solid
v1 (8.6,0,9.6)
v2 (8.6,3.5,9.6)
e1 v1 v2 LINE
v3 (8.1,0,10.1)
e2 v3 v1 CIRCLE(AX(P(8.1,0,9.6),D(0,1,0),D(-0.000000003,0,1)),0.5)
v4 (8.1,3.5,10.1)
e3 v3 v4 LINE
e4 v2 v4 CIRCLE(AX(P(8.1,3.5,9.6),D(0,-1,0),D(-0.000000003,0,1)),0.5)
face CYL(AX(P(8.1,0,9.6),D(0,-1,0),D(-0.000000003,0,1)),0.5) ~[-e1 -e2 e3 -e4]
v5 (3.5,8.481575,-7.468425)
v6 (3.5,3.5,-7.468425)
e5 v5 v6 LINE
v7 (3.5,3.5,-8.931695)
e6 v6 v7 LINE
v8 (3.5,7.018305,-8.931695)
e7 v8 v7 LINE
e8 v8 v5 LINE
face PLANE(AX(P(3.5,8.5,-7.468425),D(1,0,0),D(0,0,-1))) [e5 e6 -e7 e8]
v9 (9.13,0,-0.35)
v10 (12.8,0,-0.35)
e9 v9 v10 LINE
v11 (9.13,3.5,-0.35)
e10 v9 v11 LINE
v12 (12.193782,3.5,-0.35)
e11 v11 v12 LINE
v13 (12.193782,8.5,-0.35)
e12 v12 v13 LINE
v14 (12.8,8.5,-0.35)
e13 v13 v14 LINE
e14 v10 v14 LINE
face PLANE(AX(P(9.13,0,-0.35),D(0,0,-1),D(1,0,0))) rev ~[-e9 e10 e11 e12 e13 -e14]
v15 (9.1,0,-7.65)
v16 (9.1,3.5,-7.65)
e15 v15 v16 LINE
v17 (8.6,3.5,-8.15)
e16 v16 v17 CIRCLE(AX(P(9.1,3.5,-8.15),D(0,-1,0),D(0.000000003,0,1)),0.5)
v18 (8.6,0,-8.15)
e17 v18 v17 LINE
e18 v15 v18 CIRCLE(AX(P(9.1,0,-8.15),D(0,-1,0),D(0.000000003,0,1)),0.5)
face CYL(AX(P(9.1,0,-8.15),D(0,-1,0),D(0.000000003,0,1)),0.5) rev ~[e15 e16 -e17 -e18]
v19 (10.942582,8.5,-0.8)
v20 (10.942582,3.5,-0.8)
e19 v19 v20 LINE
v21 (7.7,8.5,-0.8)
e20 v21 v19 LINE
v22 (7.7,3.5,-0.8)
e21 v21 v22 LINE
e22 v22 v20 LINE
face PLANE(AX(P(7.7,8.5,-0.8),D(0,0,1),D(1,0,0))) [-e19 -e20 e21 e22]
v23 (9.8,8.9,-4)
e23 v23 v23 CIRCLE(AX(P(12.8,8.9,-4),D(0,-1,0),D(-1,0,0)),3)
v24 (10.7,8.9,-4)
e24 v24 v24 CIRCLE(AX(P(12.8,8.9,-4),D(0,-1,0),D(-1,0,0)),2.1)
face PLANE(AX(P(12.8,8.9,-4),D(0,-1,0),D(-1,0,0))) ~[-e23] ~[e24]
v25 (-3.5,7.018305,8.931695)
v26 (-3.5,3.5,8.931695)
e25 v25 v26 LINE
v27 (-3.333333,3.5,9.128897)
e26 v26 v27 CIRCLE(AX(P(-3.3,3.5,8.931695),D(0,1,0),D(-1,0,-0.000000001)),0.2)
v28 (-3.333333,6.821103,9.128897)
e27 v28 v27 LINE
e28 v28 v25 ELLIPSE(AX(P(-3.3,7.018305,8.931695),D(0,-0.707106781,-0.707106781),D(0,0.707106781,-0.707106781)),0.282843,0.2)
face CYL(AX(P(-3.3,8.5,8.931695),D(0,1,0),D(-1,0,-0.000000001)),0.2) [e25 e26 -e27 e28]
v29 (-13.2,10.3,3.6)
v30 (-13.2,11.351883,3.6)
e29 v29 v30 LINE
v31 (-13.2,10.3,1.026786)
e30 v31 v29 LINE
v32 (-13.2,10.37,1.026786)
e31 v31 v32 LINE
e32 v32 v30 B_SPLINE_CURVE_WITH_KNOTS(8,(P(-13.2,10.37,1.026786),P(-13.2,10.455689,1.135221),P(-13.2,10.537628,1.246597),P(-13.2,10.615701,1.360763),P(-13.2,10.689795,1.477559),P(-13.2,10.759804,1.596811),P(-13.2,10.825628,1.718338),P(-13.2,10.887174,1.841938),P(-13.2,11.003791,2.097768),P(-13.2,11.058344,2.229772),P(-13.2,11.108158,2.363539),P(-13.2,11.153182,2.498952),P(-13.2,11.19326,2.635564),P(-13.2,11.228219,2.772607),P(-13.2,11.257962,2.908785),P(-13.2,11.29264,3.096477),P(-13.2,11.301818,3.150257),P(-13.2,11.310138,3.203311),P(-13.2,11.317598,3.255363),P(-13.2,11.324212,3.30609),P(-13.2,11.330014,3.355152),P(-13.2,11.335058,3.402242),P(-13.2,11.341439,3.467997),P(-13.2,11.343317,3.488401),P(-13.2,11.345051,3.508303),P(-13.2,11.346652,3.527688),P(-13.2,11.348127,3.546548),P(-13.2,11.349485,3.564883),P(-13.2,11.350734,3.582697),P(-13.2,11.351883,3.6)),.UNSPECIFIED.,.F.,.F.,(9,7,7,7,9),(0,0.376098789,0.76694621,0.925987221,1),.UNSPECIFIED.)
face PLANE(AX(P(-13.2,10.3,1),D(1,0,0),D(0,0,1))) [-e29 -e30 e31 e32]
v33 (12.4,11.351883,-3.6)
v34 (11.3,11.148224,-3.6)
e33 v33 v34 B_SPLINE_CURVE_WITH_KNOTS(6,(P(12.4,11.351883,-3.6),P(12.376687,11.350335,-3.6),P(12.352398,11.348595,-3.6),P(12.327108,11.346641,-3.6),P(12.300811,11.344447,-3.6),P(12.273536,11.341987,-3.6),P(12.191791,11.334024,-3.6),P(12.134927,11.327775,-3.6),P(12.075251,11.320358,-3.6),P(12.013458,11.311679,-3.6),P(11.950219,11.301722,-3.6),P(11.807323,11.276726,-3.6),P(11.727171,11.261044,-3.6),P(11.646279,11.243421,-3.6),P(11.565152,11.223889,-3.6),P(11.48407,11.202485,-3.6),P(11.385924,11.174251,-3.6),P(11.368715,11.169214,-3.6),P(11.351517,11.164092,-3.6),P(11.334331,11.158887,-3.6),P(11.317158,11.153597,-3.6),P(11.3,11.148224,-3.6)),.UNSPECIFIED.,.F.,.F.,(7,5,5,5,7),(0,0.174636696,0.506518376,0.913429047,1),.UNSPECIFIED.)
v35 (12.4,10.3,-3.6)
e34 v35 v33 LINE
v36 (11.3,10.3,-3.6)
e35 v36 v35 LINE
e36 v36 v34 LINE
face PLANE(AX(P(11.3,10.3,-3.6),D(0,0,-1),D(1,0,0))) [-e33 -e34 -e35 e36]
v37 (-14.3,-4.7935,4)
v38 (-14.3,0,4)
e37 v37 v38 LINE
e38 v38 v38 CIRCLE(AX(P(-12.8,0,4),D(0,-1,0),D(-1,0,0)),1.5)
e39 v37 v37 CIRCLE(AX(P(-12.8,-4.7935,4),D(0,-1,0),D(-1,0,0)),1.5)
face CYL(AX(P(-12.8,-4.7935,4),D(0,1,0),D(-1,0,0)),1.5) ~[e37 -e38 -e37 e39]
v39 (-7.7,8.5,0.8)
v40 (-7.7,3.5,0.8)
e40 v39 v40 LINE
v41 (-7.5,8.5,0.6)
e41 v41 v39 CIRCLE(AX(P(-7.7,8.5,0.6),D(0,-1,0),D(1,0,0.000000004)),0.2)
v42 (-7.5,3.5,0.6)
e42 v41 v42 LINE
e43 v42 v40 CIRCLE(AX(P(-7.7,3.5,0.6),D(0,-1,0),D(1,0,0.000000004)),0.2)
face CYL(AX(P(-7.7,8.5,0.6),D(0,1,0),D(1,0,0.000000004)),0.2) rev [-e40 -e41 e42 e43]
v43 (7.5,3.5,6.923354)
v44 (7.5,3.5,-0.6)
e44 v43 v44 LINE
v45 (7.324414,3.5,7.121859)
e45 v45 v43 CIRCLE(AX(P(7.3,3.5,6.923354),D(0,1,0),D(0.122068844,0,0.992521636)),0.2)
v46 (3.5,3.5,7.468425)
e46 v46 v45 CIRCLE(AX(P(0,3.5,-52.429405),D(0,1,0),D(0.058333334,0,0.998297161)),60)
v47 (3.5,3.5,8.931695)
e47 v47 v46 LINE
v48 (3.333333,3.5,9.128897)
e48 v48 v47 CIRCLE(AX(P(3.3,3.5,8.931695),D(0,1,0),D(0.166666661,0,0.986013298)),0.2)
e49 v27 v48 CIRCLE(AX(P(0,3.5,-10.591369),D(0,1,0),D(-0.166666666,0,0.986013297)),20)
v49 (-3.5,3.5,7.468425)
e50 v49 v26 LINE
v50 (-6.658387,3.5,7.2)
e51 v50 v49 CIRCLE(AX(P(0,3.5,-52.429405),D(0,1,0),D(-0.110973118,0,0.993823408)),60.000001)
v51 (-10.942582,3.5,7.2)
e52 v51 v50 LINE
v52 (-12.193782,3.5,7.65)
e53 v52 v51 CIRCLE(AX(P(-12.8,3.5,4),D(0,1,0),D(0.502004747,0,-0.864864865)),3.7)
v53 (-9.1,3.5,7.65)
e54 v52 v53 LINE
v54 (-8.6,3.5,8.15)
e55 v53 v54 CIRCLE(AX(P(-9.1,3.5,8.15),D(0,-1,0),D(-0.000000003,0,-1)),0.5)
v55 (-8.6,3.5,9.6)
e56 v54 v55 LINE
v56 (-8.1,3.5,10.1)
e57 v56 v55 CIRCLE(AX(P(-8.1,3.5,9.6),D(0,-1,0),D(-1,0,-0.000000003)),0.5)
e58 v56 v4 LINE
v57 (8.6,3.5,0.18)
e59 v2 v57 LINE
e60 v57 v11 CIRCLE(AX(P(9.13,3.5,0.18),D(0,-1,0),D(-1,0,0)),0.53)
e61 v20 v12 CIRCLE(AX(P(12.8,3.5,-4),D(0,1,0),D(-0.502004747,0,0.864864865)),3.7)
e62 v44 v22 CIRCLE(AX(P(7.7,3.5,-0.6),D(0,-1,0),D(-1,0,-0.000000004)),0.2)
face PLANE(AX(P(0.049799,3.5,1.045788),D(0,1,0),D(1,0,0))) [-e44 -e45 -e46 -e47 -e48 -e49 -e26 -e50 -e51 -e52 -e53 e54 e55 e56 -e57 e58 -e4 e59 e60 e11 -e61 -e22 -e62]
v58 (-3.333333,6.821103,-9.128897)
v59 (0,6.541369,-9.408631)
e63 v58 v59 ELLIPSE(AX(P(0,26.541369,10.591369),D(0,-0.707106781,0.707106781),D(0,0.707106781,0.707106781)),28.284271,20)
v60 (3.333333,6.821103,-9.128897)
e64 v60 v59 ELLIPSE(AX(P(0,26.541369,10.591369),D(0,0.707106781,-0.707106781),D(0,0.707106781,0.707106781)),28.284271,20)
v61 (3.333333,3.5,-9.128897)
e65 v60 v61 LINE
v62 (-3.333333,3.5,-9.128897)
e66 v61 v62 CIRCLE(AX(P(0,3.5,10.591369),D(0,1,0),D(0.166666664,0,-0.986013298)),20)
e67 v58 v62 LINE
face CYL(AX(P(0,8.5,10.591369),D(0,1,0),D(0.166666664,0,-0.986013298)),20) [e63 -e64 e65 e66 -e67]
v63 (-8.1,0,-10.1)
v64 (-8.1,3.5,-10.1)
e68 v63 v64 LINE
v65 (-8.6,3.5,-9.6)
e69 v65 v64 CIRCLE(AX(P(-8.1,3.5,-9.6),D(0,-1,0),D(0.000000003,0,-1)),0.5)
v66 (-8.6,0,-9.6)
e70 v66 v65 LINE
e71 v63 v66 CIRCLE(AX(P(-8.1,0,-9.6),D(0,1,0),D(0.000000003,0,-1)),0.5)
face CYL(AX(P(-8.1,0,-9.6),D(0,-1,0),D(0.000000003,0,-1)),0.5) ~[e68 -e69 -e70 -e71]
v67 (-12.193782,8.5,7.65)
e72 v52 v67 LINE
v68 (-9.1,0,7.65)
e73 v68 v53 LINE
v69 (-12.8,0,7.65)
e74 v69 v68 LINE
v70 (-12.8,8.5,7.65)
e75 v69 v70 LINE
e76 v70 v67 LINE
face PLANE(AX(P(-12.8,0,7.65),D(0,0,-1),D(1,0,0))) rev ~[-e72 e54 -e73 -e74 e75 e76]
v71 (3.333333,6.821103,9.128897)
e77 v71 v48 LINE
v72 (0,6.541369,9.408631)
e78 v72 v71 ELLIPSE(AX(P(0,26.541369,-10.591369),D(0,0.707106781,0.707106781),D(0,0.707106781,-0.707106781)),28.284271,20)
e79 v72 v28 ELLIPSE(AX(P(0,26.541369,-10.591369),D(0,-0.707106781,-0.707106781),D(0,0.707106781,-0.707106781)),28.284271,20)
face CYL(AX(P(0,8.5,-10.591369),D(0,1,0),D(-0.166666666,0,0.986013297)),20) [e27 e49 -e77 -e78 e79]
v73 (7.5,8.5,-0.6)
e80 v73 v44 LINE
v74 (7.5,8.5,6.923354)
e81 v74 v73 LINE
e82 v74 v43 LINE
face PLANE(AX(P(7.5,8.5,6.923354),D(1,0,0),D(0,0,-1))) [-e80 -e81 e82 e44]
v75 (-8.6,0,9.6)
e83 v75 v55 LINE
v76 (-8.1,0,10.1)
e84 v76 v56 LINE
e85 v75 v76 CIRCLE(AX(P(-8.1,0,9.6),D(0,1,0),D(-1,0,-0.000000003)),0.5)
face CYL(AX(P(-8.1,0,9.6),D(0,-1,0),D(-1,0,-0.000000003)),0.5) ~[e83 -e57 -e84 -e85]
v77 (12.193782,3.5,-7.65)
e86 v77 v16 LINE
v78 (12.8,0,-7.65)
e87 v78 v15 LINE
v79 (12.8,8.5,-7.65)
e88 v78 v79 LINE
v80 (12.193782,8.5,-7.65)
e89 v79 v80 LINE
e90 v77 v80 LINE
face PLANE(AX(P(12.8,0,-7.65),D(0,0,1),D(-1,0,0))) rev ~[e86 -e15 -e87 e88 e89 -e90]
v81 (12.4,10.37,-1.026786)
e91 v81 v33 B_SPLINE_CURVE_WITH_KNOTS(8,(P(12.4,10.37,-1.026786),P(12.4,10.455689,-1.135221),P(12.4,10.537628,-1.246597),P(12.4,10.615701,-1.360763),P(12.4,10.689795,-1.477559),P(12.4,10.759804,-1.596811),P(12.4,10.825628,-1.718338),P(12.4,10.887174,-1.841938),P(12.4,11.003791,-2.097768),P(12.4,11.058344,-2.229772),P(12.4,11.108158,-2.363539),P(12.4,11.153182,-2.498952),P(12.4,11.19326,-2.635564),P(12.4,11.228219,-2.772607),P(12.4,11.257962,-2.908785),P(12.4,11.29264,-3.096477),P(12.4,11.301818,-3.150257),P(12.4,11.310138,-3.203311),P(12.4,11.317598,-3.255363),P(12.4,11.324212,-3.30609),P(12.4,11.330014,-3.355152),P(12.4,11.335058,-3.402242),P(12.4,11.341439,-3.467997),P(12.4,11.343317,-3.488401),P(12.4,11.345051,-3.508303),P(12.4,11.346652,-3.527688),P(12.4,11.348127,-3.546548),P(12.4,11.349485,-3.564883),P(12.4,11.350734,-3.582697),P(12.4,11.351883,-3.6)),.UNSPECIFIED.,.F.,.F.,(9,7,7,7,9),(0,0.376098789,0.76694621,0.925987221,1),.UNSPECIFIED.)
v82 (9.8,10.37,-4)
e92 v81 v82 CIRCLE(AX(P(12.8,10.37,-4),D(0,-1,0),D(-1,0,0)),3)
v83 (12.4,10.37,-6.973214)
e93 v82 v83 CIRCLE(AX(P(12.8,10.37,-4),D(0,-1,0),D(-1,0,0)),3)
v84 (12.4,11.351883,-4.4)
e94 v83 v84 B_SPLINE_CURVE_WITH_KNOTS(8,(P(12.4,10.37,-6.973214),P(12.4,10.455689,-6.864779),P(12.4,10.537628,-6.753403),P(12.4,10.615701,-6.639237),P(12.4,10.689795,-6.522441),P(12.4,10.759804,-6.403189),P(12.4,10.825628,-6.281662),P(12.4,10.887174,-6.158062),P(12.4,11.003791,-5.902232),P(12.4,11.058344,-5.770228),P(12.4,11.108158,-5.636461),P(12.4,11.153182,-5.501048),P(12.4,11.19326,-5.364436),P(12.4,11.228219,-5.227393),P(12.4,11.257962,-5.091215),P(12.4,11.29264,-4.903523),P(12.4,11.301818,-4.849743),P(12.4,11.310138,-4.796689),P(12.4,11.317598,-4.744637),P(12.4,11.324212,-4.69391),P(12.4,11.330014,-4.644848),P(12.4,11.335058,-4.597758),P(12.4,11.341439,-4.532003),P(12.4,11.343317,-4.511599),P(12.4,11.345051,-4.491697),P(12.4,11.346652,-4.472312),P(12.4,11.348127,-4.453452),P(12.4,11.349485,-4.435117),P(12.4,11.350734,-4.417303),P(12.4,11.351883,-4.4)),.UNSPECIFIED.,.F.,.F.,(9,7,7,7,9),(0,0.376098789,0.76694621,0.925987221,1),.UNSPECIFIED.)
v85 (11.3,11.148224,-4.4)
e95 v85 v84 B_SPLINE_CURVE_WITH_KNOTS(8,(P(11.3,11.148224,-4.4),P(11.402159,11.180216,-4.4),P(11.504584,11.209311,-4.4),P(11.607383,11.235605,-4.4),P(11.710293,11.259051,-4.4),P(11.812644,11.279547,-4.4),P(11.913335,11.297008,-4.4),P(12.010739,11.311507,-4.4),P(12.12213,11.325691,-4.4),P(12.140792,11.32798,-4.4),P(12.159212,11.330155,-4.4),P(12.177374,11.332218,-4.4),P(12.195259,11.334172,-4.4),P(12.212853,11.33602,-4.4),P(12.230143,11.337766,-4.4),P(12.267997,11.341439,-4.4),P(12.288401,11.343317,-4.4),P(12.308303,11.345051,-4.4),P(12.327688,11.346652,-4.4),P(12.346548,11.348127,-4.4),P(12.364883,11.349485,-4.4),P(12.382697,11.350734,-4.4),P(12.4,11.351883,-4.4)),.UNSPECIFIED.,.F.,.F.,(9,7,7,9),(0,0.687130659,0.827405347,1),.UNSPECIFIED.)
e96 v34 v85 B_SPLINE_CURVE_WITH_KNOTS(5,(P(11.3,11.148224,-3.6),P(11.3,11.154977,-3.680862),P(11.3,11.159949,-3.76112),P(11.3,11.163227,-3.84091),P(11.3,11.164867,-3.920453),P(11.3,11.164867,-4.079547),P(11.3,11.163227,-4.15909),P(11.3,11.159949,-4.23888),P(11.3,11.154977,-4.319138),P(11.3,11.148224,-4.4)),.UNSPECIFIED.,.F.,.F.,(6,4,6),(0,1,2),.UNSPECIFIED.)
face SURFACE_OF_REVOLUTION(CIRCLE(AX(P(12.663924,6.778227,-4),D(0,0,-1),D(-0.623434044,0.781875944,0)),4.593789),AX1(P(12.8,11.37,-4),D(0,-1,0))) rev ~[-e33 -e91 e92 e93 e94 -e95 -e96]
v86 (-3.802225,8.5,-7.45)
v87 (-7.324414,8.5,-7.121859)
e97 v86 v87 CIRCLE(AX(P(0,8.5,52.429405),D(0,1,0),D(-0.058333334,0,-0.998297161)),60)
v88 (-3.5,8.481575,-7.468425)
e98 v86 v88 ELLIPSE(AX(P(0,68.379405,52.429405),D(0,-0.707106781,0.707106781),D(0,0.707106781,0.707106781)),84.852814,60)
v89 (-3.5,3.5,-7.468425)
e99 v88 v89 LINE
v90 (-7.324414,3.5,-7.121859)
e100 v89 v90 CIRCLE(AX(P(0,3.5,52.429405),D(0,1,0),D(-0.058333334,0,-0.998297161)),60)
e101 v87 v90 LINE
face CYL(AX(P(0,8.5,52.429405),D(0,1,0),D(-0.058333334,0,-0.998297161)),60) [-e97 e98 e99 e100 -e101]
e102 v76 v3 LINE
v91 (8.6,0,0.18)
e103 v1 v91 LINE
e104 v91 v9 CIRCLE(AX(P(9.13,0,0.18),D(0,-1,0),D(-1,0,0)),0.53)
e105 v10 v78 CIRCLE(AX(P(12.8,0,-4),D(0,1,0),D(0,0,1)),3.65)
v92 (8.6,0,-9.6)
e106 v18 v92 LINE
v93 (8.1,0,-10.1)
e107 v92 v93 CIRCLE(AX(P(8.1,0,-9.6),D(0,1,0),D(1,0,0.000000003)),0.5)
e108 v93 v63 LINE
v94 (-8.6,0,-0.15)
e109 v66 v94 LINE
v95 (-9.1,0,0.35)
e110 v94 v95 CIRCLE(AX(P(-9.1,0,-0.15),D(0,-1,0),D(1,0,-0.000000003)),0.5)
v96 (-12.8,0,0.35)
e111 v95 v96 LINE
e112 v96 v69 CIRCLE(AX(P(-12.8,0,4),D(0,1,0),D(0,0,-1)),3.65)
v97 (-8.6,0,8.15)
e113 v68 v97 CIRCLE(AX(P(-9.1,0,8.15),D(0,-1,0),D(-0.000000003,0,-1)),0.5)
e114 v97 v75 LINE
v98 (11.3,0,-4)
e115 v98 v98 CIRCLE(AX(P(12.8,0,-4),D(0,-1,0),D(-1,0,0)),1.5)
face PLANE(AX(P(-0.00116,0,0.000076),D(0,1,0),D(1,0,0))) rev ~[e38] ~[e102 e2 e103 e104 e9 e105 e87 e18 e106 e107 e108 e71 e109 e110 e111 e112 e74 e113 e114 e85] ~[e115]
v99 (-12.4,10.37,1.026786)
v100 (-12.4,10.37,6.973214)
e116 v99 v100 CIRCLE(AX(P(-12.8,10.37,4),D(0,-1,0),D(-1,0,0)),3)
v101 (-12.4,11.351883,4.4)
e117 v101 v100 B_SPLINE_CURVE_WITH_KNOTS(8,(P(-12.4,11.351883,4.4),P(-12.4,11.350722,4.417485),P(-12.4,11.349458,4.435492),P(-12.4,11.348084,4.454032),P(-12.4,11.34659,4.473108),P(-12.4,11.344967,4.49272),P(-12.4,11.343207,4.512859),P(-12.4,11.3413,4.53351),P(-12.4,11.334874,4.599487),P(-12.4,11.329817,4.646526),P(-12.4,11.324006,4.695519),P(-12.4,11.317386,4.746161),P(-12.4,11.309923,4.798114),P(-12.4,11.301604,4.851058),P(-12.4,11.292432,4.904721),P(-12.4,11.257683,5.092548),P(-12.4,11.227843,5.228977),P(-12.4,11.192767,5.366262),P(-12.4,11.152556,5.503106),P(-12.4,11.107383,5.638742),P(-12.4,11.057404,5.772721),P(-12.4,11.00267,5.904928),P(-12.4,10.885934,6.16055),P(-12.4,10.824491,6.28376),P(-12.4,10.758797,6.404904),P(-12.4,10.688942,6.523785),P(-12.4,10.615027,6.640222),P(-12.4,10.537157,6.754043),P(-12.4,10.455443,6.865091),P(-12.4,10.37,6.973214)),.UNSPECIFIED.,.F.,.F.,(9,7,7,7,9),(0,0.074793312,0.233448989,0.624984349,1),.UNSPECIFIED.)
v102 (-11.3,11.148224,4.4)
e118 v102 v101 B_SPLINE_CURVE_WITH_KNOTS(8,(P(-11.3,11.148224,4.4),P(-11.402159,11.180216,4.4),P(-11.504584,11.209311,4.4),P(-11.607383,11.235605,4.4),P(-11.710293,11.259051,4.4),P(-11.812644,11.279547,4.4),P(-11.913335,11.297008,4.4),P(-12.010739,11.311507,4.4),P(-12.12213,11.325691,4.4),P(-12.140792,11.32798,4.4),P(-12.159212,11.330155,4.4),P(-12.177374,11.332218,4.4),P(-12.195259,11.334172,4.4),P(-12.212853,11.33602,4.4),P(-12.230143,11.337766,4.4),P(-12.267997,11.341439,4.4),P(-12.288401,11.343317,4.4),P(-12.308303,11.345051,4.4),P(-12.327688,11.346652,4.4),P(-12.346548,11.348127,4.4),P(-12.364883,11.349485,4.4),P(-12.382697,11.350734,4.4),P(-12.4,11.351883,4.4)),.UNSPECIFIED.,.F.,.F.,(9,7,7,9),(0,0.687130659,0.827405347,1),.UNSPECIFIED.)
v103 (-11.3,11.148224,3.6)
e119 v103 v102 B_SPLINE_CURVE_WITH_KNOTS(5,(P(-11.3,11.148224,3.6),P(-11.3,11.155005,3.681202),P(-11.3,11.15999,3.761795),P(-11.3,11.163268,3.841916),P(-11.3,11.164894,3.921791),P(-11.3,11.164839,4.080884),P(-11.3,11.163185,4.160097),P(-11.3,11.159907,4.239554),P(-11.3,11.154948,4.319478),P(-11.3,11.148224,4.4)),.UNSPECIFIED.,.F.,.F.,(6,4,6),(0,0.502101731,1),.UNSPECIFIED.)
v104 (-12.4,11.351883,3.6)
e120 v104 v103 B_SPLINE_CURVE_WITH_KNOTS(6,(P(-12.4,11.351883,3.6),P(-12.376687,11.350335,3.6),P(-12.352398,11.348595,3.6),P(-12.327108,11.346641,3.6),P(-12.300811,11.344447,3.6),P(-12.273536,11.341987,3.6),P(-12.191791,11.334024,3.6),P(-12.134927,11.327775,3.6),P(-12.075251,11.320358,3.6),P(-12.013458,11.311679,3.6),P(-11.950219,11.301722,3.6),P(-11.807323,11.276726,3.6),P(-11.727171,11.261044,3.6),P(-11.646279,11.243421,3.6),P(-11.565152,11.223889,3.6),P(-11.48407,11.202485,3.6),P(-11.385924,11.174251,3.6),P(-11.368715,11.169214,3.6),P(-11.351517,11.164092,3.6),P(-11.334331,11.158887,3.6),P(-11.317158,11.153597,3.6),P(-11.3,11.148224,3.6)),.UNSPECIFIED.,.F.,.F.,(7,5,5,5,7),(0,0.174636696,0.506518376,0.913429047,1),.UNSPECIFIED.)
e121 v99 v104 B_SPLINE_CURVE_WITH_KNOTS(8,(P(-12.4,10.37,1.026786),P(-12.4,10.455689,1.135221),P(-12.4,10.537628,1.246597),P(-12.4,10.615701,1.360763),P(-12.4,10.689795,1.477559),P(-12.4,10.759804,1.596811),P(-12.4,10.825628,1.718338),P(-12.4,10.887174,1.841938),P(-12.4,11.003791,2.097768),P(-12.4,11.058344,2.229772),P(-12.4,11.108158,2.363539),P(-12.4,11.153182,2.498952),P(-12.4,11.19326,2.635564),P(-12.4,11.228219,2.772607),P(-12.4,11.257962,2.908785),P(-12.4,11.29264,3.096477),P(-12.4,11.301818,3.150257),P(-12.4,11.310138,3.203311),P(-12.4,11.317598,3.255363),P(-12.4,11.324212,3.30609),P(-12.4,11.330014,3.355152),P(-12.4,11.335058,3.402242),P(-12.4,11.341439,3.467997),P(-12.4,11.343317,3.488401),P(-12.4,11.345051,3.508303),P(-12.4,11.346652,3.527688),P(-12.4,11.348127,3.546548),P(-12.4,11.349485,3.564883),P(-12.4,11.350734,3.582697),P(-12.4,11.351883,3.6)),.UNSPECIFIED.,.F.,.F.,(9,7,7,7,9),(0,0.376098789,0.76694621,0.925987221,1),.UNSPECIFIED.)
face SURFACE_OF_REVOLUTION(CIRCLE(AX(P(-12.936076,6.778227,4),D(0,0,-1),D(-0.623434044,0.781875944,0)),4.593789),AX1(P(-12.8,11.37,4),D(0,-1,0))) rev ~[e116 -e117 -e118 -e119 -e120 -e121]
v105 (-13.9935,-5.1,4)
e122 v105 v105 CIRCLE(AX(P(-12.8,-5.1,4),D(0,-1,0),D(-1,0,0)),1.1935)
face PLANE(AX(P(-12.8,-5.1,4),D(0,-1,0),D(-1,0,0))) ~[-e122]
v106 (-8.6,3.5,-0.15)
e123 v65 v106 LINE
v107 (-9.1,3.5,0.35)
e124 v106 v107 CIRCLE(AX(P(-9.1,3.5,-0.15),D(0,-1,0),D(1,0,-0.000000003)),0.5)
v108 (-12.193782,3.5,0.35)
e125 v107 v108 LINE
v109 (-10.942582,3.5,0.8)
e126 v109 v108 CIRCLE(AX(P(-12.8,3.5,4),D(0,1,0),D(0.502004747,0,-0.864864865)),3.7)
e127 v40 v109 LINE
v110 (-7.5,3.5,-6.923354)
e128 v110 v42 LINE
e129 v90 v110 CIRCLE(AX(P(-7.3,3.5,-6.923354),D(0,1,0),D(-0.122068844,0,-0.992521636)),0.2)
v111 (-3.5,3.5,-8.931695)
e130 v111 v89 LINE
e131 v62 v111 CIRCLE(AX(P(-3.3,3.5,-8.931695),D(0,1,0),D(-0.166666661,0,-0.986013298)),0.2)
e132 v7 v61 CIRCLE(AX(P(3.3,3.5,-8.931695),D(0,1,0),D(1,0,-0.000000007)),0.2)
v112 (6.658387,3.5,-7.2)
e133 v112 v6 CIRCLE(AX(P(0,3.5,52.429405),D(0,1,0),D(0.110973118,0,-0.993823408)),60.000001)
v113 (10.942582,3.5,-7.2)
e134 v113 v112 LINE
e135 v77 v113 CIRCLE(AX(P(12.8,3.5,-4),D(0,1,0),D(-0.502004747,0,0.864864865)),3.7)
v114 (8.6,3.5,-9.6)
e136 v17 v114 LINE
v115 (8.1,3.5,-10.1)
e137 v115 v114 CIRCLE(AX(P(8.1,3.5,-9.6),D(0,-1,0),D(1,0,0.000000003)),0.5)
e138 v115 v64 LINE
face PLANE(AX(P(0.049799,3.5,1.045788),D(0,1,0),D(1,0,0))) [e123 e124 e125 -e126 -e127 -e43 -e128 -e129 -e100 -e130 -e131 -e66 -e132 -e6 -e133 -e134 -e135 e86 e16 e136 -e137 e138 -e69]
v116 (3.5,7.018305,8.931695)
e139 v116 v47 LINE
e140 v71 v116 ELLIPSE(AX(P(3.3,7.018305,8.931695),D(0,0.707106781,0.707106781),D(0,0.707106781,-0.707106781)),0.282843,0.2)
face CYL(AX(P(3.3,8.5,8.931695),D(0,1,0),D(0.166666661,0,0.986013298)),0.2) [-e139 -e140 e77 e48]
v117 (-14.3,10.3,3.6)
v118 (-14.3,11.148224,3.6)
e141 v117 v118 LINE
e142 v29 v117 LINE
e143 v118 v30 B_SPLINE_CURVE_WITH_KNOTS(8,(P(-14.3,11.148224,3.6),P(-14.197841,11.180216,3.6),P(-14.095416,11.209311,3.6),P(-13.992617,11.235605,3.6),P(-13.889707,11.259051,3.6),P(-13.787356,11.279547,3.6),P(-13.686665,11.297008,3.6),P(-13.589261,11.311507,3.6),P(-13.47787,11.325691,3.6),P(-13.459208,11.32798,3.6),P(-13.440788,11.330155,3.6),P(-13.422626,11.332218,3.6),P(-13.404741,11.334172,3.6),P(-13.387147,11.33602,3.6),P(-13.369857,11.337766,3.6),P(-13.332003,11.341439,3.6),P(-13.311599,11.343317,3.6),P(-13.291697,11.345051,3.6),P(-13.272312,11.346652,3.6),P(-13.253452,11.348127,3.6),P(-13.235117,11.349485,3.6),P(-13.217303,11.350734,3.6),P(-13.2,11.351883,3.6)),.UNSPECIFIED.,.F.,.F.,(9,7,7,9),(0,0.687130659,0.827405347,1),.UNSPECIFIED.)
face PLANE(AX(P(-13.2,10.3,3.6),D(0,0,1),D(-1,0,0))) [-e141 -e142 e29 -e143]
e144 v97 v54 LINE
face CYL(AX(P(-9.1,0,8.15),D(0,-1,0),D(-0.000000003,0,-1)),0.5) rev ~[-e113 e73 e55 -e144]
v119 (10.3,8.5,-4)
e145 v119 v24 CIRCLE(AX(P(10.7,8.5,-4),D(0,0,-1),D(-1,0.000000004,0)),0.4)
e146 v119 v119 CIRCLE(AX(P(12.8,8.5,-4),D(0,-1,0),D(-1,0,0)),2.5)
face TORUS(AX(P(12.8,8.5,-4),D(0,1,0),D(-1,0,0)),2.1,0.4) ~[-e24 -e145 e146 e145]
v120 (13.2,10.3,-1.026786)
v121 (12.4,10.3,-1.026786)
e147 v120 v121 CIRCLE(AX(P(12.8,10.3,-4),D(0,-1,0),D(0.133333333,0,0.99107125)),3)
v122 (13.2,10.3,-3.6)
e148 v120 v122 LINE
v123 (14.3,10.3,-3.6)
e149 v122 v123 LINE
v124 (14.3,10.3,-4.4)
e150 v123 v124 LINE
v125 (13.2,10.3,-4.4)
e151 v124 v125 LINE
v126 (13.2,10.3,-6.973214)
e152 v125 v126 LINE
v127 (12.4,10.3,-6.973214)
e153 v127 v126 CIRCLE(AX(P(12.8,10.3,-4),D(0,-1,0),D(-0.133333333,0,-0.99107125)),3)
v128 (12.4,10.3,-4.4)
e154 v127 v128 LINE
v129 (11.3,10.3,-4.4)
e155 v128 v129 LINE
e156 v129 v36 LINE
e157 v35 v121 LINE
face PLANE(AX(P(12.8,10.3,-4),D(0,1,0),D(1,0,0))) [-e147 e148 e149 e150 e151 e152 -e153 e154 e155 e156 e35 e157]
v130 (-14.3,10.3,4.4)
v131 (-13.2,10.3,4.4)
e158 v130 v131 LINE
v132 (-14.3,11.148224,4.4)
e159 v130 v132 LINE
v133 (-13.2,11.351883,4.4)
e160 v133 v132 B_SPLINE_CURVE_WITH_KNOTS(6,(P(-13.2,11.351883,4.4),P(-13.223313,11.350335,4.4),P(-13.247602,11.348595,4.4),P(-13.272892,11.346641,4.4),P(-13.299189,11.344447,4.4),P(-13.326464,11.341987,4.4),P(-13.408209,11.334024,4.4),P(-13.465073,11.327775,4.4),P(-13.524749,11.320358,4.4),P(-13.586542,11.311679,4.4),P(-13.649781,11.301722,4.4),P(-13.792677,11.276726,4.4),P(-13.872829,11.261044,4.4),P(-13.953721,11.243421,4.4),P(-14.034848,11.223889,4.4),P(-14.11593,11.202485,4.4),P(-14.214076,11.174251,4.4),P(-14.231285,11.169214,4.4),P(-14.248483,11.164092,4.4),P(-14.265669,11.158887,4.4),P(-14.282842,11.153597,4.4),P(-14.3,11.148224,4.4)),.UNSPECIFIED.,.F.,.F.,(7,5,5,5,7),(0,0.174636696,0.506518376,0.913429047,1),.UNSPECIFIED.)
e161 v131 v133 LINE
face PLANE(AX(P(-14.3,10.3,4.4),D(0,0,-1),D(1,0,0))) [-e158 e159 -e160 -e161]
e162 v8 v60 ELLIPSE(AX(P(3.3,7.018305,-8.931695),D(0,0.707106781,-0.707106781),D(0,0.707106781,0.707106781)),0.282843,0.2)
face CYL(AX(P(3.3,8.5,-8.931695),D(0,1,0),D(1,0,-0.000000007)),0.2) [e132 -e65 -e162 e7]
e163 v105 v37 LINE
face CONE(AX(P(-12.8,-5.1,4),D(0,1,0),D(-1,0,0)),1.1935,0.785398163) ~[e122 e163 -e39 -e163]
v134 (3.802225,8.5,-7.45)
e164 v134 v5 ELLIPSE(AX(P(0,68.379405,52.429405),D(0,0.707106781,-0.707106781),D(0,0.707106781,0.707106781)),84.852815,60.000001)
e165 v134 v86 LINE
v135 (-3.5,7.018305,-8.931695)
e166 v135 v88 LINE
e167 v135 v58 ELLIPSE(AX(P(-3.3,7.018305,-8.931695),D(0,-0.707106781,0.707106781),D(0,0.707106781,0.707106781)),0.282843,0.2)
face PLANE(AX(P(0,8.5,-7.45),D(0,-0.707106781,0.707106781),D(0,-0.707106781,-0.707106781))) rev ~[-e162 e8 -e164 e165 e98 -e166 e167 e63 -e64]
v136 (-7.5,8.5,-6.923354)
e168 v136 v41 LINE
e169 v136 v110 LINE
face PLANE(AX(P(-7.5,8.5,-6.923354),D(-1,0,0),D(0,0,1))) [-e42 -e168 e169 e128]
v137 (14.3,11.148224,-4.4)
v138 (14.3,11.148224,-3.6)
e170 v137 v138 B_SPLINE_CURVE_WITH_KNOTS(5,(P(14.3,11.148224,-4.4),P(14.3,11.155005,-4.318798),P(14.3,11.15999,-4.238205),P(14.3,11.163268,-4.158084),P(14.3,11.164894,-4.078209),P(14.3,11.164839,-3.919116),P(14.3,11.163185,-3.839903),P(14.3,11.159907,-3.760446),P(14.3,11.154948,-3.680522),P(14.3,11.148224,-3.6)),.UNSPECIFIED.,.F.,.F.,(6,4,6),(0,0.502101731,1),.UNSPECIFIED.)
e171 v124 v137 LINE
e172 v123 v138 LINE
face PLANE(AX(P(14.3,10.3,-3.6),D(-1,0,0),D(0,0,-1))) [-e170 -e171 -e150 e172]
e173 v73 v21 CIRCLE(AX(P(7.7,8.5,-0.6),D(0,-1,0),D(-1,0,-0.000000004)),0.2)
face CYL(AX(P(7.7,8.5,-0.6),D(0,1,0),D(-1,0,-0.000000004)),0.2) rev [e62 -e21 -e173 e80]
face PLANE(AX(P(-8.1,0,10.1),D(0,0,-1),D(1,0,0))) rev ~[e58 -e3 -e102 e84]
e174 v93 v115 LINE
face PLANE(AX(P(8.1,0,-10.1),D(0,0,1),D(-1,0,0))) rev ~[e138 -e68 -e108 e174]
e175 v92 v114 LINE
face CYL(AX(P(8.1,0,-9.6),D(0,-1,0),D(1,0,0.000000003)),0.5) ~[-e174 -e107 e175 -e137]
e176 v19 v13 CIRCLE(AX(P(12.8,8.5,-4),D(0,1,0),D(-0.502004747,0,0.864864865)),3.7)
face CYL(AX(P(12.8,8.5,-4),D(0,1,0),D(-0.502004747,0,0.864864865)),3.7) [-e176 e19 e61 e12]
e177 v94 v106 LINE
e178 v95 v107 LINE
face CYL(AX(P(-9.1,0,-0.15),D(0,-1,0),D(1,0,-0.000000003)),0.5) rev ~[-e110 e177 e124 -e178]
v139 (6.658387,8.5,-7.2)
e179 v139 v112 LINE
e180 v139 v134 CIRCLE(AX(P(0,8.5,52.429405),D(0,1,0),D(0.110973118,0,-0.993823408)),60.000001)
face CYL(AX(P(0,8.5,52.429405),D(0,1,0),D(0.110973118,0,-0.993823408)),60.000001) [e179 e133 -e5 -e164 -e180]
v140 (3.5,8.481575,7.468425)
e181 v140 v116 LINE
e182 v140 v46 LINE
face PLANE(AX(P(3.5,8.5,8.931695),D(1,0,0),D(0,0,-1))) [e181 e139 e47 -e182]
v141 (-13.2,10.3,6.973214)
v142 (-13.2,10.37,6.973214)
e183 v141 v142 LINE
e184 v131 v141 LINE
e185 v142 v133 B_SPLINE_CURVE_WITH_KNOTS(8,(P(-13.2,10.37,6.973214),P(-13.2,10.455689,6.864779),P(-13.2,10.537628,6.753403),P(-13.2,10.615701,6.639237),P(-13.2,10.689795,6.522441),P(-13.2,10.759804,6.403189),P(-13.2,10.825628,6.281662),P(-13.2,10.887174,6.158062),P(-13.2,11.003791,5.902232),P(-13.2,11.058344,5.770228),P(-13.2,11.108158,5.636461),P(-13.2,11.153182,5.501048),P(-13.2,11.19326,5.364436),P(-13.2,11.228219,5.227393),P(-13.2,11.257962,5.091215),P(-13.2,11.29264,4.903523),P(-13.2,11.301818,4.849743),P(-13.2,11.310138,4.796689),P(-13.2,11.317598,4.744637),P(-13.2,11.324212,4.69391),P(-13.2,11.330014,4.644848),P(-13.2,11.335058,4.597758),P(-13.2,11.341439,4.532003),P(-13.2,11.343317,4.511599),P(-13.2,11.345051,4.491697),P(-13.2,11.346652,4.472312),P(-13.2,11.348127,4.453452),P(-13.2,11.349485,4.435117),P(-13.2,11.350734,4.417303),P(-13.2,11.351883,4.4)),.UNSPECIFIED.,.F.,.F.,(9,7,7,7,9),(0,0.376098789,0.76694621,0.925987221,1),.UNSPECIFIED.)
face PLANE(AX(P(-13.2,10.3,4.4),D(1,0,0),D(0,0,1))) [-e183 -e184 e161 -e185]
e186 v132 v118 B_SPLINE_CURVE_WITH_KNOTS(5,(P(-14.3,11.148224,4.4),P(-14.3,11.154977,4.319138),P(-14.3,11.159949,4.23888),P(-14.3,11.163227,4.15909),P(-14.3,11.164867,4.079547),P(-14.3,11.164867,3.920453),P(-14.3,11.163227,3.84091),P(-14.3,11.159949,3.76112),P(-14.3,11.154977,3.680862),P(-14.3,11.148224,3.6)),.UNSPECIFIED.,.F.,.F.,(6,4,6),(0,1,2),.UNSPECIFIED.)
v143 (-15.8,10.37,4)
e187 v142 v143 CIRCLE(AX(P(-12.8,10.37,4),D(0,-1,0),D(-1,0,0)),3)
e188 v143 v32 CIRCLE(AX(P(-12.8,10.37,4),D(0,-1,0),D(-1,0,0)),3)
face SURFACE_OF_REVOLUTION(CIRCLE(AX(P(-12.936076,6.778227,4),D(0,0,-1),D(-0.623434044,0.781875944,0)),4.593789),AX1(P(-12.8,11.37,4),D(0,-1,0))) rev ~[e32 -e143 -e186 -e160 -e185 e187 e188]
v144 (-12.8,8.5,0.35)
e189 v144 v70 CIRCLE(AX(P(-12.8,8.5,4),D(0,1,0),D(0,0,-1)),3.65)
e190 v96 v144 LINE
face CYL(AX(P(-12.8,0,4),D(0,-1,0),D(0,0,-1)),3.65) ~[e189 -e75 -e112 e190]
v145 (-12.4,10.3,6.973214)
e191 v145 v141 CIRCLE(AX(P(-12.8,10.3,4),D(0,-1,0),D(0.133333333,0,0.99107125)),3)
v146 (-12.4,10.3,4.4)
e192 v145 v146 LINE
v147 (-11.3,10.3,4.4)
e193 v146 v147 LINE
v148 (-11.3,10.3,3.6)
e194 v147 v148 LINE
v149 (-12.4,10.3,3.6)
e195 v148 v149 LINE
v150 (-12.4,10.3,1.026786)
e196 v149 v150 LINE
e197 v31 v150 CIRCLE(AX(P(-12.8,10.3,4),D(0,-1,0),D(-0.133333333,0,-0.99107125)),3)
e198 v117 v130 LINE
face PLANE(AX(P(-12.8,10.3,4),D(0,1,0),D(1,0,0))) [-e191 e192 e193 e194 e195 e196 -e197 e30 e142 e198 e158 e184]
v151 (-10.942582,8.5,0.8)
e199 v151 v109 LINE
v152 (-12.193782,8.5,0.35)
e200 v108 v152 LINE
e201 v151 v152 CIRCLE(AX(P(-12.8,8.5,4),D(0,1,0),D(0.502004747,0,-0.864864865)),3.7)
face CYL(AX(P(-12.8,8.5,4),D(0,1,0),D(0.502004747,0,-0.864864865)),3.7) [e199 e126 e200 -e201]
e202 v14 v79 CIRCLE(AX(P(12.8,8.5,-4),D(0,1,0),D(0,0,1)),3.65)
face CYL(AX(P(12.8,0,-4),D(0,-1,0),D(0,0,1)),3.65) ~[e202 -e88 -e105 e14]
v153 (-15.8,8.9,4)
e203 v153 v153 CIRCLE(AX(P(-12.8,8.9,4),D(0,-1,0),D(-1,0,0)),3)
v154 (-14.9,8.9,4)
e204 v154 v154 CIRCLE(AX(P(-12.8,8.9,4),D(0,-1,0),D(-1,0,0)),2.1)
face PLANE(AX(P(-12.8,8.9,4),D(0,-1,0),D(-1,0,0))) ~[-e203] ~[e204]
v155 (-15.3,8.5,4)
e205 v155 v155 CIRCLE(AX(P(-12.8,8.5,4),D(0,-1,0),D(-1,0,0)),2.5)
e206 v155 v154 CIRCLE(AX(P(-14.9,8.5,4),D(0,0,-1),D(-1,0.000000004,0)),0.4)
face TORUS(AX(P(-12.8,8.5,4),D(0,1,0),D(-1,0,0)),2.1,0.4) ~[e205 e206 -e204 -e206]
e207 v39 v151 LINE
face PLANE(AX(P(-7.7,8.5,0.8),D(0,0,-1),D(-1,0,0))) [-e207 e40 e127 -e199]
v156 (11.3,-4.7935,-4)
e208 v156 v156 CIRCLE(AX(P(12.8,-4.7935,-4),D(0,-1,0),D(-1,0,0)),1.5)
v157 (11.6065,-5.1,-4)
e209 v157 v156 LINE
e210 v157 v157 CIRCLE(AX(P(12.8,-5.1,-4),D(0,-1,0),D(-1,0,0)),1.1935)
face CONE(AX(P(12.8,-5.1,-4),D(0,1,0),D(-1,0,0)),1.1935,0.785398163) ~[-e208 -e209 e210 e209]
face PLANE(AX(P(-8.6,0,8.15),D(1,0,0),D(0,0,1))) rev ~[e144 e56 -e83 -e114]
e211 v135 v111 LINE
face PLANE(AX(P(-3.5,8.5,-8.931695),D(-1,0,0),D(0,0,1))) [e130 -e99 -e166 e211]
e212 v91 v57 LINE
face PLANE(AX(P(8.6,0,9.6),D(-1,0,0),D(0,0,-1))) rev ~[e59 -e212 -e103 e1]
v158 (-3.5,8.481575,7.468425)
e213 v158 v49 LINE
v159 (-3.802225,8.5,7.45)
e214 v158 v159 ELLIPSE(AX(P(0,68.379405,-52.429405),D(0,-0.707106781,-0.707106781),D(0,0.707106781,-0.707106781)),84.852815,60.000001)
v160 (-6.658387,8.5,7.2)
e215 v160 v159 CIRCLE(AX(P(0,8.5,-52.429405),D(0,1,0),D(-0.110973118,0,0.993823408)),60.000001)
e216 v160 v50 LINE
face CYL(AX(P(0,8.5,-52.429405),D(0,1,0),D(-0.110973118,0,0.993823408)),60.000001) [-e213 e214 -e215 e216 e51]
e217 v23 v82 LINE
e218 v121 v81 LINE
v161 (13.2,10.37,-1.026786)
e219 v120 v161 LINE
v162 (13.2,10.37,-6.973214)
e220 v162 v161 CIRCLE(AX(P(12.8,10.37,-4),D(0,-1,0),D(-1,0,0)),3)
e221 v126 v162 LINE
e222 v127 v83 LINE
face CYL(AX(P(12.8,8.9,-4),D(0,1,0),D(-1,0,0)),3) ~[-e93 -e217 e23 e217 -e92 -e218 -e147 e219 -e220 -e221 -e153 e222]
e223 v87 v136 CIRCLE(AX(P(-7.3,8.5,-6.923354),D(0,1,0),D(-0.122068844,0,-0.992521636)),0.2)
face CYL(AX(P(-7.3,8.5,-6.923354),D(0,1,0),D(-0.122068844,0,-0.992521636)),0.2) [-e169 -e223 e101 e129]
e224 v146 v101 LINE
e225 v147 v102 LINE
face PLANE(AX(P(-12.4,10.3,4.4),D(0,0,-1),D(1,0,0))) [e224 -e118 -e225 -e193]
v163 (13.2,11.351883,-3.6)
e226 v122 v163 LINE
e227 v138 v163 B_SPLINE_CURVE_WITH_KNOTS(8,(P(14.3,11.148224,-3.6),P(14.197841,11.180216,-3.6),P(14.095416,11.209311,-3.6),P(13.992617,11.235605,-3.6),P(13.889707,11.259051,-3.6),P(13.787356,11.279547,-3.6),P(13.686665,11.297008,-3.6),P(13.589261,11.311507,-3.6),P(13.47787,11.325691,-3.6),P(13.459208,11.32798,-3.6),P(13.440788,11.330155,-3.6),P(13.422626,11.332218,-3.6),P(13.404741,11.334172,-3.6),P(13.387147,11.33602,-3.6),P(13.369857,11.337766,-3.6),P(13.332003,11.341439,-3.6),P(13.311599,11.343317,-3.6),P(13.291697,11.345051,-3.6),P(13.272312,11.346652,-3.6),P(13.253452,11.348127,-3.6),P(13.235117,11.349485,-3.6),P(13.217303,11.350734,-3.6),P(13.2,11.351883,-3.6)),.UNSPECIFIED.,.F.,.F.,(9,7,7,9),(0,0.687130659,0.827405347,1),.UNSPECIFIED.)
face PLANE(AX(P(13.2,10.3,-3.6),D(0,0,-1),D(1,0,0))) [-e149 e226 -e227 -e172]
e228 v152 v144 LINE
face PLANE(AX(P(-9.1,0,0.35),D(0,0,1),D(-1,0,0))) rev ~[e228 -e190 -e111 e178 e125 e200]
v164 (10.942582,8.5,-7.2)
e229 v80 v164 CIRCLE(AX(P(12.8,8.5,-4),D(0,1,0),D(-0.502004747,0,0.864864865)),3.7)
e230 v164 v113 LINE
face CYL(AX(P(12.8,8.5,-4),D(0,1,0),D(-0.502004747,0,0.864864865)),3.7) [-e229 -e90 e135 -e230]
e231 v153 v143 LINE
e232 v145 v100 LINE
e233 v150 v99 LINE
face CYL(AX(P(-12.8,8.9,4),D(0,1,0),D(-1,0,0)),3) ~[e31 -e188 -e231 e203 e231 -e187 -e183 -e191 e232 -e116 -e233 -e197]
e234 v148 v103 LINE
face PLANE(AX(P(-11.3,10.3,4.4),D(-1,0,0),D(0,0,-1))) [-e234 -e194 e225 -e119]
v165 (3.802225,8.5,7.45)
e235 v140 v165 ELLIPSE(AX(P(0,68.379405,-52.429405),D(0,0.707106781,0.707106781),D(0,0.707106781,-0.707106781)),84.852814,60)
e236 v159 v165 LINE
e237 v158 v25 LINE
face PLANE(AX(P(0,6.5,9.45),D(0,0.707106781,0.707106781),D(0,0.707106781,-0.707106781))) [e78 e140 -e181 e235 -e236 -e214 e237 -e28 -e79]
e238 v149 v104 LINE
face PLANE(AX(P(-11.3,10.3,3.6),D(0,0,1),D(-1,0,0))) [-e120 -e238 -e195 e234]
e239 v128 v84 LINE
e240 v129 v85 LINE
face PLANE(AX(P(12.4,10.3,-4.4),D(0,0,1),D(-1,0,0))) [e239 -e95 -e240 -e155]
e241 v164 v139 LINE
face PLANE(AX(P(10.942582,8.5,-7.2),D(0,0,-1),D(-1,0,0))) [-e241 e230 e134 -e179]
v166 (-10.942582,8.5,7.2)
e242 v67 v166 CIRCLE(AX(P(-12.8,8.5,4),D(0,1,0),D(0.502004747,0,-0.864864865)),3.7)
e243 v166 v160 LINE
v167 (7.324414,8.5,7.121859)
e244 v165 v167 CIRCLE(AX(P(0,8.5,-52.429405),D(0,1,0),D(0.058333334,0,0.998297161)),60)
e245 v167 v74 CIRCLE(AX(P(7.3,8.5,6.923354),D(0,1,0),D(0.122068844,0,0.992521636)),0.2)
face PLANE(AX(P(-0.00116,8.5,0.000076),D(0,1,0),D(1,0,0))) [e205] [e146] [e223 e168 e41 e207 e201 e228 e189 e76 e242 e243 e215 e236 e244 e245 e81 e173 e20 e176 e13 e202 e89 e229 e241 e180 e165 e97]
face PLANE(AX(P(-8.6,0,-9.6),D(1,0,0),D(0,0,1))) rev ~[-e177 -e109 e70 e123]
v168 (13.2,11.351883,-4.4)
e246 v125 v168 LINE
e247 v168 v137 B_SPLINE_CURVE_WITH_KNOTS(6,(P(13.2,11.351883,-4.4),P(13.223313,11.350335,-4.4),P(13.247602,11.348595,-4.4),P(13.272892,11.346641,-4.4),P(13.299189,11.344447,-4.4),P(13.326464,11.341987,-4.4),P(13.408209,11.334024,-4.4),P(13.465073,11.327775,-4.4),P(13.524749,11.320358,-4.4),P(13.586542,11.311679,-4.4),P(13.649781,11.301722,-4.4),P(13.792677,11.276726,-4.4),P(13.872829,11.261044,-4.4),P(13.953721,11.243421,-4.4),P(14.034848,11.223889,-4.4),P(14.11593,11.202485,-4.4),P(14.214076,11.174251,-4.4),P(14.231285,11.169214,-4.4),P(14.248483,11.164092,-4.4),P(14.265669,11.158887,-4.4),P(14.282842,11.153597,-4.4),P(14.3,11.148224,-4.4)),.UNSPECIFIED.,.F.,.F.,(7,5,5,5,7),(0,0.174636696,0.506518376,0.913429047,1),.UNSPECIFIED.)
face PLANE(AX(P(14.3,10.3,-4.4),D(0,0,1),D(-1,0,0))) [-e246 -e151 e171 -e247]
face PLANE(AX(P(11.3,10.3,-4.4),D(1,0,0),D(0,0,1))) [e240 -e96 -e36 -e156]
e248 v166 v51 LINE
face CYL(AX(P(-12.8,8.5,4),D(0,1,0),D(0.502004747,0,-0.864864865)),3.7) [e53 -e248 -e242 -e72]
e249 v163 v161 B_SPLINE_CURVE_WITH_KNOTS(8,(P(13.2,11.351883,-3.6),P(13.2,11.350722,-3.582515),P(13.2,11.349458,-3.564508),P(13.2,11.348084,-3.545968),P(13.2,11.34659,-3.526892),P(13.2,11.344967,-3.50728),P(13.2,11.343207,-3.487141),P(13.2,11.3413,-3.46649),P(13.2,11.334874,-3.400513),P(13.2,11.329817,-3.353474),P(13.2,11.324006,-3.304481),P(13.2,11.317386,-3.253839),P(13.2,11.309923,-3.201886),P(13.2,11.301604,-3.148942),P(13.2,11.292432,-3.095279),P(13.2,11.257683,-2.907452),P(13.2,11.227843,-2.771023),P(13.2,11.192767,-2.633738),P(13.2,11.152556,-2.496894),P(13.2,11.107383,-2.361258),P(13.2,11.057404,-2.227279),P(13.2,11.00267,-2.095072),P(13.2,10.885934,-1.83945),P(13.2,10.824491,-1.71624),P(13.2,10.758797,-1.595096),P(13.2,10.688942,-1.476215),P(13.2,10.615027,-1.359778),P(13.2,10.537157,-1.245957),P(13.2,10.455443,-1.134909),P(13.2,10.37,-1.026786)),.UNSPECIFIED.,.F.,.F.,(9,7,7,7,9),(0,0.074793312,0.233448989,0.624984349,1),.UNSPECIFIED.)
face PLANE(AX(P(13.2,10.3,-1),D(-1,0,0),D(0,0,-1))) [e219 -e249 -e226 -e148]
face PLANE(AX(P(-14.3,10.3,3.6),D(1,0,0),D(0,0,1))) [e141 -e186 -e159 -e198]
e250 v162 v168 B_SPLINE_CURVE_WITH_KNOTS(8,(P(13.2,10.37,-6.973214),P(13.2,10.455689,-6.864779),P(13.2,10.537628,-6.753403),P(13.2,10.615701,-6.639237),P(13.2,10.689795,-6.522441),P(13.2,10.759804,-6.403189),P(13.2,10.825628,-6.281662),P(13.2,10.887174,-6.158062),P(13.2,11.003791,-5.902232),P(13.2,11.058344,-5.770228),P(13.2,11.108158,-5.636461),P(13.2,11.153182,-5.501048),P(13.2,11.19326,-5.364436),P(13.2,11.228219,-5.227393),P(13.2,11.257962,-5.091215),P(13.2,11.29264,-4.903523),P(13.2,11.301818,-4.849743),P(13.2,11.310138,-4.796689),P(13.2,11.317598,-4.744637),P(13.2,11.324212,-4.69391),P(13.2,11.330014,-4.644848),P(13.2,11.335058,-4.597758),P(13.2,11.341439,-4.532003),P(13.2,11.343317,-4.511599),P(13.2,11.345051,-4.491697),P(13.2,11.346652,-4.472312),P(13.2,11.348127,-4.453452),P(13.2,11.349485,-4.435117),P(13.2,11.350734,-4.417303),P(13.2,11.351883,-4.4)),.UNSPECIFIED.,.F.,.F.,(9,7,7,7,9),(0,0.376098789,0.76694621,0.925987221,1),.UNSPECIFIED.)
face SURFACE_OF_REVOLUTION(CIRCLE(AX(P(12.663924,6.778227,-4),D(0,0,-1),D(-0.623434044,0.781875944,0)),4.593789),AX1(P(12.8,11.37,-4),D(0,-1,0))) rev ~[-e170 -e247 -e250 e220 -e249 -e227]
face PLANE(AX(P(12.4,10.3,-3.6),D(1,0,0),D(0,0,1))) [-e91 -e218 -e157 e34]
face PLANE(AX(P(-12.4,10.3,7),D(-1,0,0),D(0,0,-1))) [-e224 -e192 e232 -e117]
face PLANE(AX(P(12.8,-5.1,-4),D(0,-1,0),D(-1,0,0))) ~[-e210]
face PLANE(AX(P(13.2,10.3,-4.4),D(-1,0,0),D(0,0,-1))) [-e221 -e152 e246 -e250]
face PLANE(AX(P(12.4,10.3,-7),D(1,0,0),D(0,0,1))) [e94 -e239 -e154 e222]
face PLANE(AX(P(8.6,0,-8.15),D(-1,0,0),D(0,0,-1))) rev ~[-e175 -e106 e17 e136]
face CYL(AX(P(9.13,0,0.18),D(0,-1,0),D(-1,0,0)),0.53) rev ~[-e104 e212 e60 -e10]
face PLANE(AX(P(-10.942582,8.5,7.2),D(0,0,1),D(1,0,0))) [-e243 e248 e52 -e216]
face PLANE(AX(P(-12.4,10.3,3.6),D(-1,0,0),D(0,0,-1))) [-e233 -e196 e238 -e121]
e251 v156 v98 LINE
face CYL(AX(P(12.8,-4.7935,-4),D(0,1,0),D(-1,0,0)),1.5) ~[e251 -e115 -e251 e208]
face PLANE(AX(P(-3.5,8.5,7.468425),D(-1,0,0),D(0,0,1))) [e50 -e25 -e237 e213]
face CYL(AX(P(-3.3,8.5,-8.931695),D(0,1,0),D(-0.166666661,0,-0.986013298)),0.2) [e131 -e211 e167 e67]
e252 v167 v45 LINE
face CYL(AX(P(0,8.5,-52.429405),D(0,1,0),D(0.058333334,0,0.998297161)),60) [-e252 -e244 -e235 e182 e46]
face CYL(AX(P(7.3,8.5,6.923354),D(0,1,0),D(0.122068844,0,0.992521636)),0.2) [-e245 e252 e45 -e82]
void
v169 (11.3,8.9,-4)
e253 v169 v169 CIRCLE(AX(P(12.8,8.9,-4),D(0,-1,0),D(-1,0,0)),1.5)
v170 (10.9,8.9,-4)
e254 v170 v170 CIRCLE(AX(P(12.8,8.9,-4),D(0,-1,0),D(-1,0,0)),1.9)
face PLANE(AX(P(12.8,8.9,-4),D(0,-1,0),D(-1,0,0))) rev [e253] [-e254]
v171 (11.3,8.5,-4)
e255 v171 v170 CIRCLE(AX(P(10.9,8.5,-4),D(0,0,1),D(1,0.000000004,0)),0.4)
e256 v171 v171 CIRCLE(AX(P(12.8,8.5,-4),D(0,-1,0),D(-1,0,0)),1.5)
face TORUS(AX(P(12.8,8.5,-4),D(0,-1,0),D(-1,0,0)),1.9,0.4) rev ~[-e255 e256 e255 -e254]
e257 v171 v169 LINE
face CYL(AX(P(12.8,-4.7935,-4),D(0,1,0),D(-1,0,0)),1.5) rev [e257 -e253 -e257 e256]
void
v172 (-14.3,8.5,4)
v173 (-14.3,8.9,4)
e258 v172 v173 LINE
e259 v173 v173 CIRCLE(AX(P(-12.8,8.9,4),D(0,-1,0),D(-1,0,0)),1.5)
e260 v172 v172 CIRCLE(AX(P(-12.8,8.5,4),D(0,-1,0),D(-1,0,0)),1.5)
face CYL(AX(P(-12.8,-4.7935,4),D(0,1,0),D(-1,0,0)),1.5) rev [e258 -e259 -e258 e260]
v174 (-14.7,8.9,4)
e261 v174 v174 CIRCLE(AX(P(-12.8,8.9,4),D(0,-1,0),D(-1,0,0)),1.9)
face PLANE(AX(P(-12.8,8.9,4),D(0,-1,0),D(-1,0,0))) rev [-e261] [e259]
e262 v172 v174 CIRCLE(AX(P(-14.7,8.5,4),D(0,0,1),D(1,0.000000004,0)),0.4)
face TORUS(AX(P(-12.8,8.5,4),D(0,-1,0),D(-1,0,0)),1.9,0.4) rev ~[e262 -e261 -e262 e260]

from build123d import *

# Parameters (mm, degrees)
BOSS_EXTRUDE1_DEPTH     = 8.5
SKETCH2_W               = 40.53674955
SKETCH2_H               = 32.519038644
CUT_EXTRUDE1_DEPTH      = 5
CUT_EXTRUDE2_DEPTH      = 5
CUT_EXTRUDE2_DEPTH_BACK = 5
CUT_EXTRUDE3_DEPTH      = 5
CUT_EXTRUDE3_DEPTH_BACK = 5
CUT_EXTRUDE4_DEPTH      = 5
CUT_EXTRUDE5_DEPTH      = 5


with BuildPart() as part:
    # Sketch1 → Boss-Extrude1 (new body)
    with BuildSketch(Plane(origin=(0, 0, 0), x_dir=(1, 0, 0), z_dir=(0, 1, 0))):
        with BuildLine():
            Line((-12.8, -7.65), (-9.1, -7.65))
            ThreePointArc((-9.1, -7.65), (-8.746446609, -7.796446609), (-8.6, -8.15))
            Line((-8.6, -8.15), (-8.6, -9.6))
            ThreePointArc((-8.6, -9.6), (-8.453553391, -9.953553391), (-8.1, -10.1))
            Line((-8.1, -10.1), (8.1, -10.1))
            ThreePointArc((8.1, -10.1), (8.453553391, -9.953553391), (8.6, -9.6))
            Line((8.6, -9.6), (8.6, -0.18))
            ThreePointArc((8.6, -0.18), (8.755233406, 0.194766594), (9.13, 0.35))
            Line((9.13, 0.35), (12.8, 0.35))
            ThreePointArc((12.8, 0.35), (16.45, 4), (12.8, 7.65))
            Line((12.8, 7.65), (9.1, 7.65))
            ThreePointArc((9.1, 7.65), (8.746446609, 7.796446609), (8.6, 8.15))
            Line((8.6, 8.15), (8.6, 9.6))
            ThreePointArc((8.6, 9.6), (8.453553391, 9.953553391), (8.1, 10.1))
            Line((8.1, 10.1), (-8.1, 10.1))
            ThreePointArc((-8.1, 10.1), (-8.453553391, 9.953553391), (-8.6, 9.6))
            Line((-8.6, 9.6), (-8.6, 0.15))
            ThreePointArc((-8.6, 0.15), (-8.746446609, -0.203553391), (-9.1, -0.35))
            Line((-9.1, -0.35), (-12.8, -0.35))
            ThreePointArc((-12.8, -0.35), (-16.45, -4), (-12.8, -7.65))
        make_face()
    extrude(amount=BOSS_EXTRUDE1_DEPTH)

    # Sketch2 → Cut-Extrude1 (cut)
    with BuildSketch(Plane(origin=(0, 8.5, 0), x_dir=(1, 0, 0), z_dir=(0, 1, 0))):
        with Locations((0.049799447, -1.045788379)):
            Rectangle(SKETCH2_W, SKETCH2_H)
        with BuildLine():
            Line((-10.942582438, -7.2), (-6.658387125, -7.2))
            ThreePointArc((-6.658387125, -7.2), (-5.080966469, -7.35507325), (-3.5, -7.468425178))
            Line((-3.5, -7.468425178), (-3.5, -8.931694617))
            ThreePointArc((-3.5, -8.931694617), (-3.452752523, -9.060794062), (-3.333333333, -9.128897276))
            ThreePointArc((-3.333333333, -9.128897276), (0, -9.408631332), (3.333333333, -9.128897276))
            ThreePointArc((3.333333333, -9.128897276), (3.452752523, -9.060794062), (3.5, -8.931694617))
            Line((3.5, -8.931694617), (3.5, -7.468425178))
            ThreePointArc((3.5, -7.468425178), (5.414980187, -7.325745819), (7.324413769, -7.12185882))
            ThreePointArc((7.324413769, -7.12185882), (7.449804462, -7.055863448), (7.5, -6.923354493))
            Line((7.5, -6.923354493), (7.5, 0.6))
            ThreePointArc((7.5, 0.6), (7.558578644, 0.741421356), (7.7, 0.8))
            Line((7.7, 0.8), (10.942582438, 0.8))
            ThreePointArc((10.942582438, 0.8), (16.5, 4), (10.942582438, 7.2))
            Line((10.942582438, 7.2), (6.658387125, 7.2))
            ThreePointArc((6.658387125, 7.2), (5.080966469, 7.35507325), (3.5, 7.468425178))
            Line((3.5, 7.468425178), (3.5, 8.931694617))
            ThreePointArc((3.5, 8.931694617), (3.452752508, 9.060794079), (3.333333288, 9.128897284))
            ThreePointArc((3.333333288, 9.128897284), (-2.3e-08, 9.408631332), (-3.333333333, 9.128897276))
            ThreePointArc((-3.333333333, 9.128897276), (-3.452752523, 9.060794062), (-3.5, 8.931694617))
            Line((-3.5, 8.931694617), (-3.5, 7.468425178))
            ThreePointArc((-3.5, 7.468425178), (-5.414980187, 7.325745819), (-7.324413769, 7.12185882))
            ThreePointArc((-7.324413769, 7.12185882), (-7.449804462, 7.055863448), (-7.5, 6.923354493))
            Line((-7.5, 6.923354493), (-7.5, -0.6))
            ThreePointArc((-7.5, -0.6), (-7.558578644, -0.741421356), (-7.7, -0.8))
            Line((-7.7, -0.8), (-10.942582438, -0.8))
            ThreePointArc((-10.942582438, -0.8), (-16.5, -4), (-10.942582438, -7.2))
        make_face(mode=Mode.SUBTRACT)
    extrude(amount=-CUT_EXTRUDE1_DEPTH, mode=Mode.SUBTRACT)

    # Sketch3 → Cut-Extrude2 (cut, two sides)
    with BuildSketch(Plane(origin=(0, 0, 0), x_dir=(0, 0, -1), z_dir=(1, 0, 0))) as cut_extrude2_sk:
        Polygon((7.45, 8.5), (9.45, 6.5), (9.45, 8.5), align=None)
    extrude(amount=CUT_EXTRUDE2_DEPTH, mode=Mode.SUBTRACT)
    extrude(cut_extrude2_sk.sketch, amount=-CUT_EXTRUDE2_DEPTH_BACK, mode=Mode.SUBTRACT)

    # Sketch4 → Cut-Extrude3 (cut, two sides)
    with BuildSketch(Plane(origin=(0, 0, 0), x_dir=(0, 0, -1), z_dir=(1, 0, 0))) as cut_extrude3_sk:
        Polygon((-9.45, 6.5), (-7.45, 8.5), (-9.45, 8.5), align=None)
    extrude(amount=CUT_EXTRUDE3_DEPTH, mode=Mode.SUBTRACT)
    extrude(cut_extrude3_sk.sketch, amount=-CUT_EXTRUDE3_DEPTH_BACK, mode=Mode.SUBTRACT)

    # Sketch5 → Revolve1 (revolve)
    with BuildSketch(Plane.XY.offset(4)):
        with BuildLine():
            Line((-12.8, 8.5), (-15.3, 8.5))
            ThreePointArc((-15.3, 8.5), (-15.182842712, 8.782842712), (-14.9, 8.9))
            Line((-14.9, 8.9), (-12.8, 8.9))
            Line((-12.8, 8.9), (-12.8, 8.5))
        make_face()
    revolve(axis=Axis((-12.8, 8.9, 4), (0, -1, 0)))

    # Sketch6 → Revolve2 (revolve)
    with BuildSketch(Plane.XY.offset(-4)):
        with BuildLine():
            Line((12.8, 8.5), (10.3, 8.5))
            ThreePointArc((10.3, 8.5), (10.417157288, 8.782842712), (10.7, 8.9))
            Line((10.7, 8.9), (12.8, 8.9))
            Line((12.8, 8.9), (12.8, 8.5))
        make_face()
    revolve(axis=Axis((12.8, 8.9, -4), (0, -1, 0)))

    # Sketch7 → Cut-Revolve1 (revolve, cut)
    with BuildSketch(Plane.XY.offset(4)):
        with BuildLine():
            Line((-12.8, 0), (-14.3, 0))
            Line((-14.3, 0), (-14.3, 4.125))
            Line((-14.3, 4.125), (-14.175, 4.25))
            Line((-14.175, 4.25), (-14.3, 4.375))
            Line((-14.3, 4.375), (-14.3, 8.5))
            ThreePointArc((-14.3, 8.5), (-14.417157288, 8.782842712), (-14.7, 8.9))
            Line((-14.7, 8.9), (-12.8, 8.9))
            Line((-12.8, 8.9), (-12.8, 0))
        make_face()
    revolve(axis=Axis((-12.8, 8.9, 4), (0, -1, 0)), mode=Mode.SUBTRACT)

    # Sketch8 → Cut-Revolve2 (revolve, cut)
    with BuildSketch(Plane.XY.offset(-4)):
        with BuildLine():
            Line((12.8, 0), (11.3, 0))
            Line((11.3, 0), (11.3, 4.125))
            Line((11.3, 4.125), (11.425, 4.25))
            Line((11.425, 4.25), (11.3, 4.375))
            Line((11.3, 4.375), (11.3, 8.5))
            ThreePointArc((11.3, 8.5), (11.182842712, 8.782842712), (10.9, 8.9))
            Line((10.9, 8.9), (12.8, 8.9))
            Line((12.8, 8.9), (12.8, 0))
        make_face()
    revolve(axis=Axis((12.8, 8.9, -4), (0, -1, 0)), mode=Mode.SUBTRACT)

    # Sketch9 → Revolve3 (revolve)
    with BuildSketch(Plane.XY.offset(4)):
        with BuildLine():
            Line((-12.8, -5.1), (-13.9935, -5.1))
            Line((-13.9935, -5.1), (-14.3, -4.7935))
            Line((-14.3, -4.7935), (-14.3, 8.9))
            Line((-14.3, 8.9), (-15.8, 8.9))
            Line((-15.8, 8.9), (-15.8, 10.37))
            ThreePointArc((-15.8, 10.37), (-14.388759249, 11.136277748), (-12.8, 11.37))
            Line((-12.8, 11.37), (-12.8, -5.1))
        make_face()
    revolve(axis=Axis((-12.8, 11.37, 4), (0, -1, 0)))

    # Sketch10 → Revolve4 (revolve)
    with BuildSketch(Plane.XY.offset(-4)):
        with BuildLine():
            Line((12.8, -5.1), (11.6065, -5.1))
            Line((11.6065, -5.1), (11.3, -4.7935))
            Line((11.3, -4.7935), (11.3, 8.9))
            Line((11.3, 8.9), (9.8, 8.9))
            Line((9.8, 8.9), (9.8, 10.37))
            ThreePointArc((9.8, 10.37), (11.211240751, 11.136277748), (12.8, 11.37))
            Line((12.8, 11.37), (12.8, -5.1))
        make_face()
    revolve(axis=Axis((12.8, 11.37, -4), (0, -1, 0)))

    # Sketch11 → Cut-Extrude4 (cut)
    with BuildSketch(Plane(origin=(0, 10.3, 0), x_dir=(1, 0, 0), z_dir=(0, 1, 0))):
        Polygon((11.3, 3.6), (12.4, 3.6), (12.4, 1), (13.2, 1), (13.2, 3.6), (14.3, 3.6), (14.3, 4.4), (13.2, 4.4), (13.2, 7), (12.4, 7), (12.4, 4.4), (11.3, 4.4), align=None)
    extrude(amount=CUT_EXTRUDE4_DEPTH, mode=Mode.SUBTRACT)

    # Sketch12 → Cut-Extrude5 (cut)
    with BuildSketch(Plane(origin=(0, 10.3, 0), x_dir=(1, 0, 0), z_dir=(0, 1, 0))):
        Polygon((-14.3, -4.4), (-13.2, -4.4), (-13.2, -7), (-12.4, -7), (-12.4, -4.4), (-11.3, -4.4), (-11.3, -3.6), (-12.4, -3.6), (-12.4, -1), (-13.2, -1), (-13.2, -3.6), (-14.3, -3.6), align=None)
    extrude(amount=CUT_EXTRUDE5_DEPTH, mode=Mode.SUBTRACT)


solid = part.part
